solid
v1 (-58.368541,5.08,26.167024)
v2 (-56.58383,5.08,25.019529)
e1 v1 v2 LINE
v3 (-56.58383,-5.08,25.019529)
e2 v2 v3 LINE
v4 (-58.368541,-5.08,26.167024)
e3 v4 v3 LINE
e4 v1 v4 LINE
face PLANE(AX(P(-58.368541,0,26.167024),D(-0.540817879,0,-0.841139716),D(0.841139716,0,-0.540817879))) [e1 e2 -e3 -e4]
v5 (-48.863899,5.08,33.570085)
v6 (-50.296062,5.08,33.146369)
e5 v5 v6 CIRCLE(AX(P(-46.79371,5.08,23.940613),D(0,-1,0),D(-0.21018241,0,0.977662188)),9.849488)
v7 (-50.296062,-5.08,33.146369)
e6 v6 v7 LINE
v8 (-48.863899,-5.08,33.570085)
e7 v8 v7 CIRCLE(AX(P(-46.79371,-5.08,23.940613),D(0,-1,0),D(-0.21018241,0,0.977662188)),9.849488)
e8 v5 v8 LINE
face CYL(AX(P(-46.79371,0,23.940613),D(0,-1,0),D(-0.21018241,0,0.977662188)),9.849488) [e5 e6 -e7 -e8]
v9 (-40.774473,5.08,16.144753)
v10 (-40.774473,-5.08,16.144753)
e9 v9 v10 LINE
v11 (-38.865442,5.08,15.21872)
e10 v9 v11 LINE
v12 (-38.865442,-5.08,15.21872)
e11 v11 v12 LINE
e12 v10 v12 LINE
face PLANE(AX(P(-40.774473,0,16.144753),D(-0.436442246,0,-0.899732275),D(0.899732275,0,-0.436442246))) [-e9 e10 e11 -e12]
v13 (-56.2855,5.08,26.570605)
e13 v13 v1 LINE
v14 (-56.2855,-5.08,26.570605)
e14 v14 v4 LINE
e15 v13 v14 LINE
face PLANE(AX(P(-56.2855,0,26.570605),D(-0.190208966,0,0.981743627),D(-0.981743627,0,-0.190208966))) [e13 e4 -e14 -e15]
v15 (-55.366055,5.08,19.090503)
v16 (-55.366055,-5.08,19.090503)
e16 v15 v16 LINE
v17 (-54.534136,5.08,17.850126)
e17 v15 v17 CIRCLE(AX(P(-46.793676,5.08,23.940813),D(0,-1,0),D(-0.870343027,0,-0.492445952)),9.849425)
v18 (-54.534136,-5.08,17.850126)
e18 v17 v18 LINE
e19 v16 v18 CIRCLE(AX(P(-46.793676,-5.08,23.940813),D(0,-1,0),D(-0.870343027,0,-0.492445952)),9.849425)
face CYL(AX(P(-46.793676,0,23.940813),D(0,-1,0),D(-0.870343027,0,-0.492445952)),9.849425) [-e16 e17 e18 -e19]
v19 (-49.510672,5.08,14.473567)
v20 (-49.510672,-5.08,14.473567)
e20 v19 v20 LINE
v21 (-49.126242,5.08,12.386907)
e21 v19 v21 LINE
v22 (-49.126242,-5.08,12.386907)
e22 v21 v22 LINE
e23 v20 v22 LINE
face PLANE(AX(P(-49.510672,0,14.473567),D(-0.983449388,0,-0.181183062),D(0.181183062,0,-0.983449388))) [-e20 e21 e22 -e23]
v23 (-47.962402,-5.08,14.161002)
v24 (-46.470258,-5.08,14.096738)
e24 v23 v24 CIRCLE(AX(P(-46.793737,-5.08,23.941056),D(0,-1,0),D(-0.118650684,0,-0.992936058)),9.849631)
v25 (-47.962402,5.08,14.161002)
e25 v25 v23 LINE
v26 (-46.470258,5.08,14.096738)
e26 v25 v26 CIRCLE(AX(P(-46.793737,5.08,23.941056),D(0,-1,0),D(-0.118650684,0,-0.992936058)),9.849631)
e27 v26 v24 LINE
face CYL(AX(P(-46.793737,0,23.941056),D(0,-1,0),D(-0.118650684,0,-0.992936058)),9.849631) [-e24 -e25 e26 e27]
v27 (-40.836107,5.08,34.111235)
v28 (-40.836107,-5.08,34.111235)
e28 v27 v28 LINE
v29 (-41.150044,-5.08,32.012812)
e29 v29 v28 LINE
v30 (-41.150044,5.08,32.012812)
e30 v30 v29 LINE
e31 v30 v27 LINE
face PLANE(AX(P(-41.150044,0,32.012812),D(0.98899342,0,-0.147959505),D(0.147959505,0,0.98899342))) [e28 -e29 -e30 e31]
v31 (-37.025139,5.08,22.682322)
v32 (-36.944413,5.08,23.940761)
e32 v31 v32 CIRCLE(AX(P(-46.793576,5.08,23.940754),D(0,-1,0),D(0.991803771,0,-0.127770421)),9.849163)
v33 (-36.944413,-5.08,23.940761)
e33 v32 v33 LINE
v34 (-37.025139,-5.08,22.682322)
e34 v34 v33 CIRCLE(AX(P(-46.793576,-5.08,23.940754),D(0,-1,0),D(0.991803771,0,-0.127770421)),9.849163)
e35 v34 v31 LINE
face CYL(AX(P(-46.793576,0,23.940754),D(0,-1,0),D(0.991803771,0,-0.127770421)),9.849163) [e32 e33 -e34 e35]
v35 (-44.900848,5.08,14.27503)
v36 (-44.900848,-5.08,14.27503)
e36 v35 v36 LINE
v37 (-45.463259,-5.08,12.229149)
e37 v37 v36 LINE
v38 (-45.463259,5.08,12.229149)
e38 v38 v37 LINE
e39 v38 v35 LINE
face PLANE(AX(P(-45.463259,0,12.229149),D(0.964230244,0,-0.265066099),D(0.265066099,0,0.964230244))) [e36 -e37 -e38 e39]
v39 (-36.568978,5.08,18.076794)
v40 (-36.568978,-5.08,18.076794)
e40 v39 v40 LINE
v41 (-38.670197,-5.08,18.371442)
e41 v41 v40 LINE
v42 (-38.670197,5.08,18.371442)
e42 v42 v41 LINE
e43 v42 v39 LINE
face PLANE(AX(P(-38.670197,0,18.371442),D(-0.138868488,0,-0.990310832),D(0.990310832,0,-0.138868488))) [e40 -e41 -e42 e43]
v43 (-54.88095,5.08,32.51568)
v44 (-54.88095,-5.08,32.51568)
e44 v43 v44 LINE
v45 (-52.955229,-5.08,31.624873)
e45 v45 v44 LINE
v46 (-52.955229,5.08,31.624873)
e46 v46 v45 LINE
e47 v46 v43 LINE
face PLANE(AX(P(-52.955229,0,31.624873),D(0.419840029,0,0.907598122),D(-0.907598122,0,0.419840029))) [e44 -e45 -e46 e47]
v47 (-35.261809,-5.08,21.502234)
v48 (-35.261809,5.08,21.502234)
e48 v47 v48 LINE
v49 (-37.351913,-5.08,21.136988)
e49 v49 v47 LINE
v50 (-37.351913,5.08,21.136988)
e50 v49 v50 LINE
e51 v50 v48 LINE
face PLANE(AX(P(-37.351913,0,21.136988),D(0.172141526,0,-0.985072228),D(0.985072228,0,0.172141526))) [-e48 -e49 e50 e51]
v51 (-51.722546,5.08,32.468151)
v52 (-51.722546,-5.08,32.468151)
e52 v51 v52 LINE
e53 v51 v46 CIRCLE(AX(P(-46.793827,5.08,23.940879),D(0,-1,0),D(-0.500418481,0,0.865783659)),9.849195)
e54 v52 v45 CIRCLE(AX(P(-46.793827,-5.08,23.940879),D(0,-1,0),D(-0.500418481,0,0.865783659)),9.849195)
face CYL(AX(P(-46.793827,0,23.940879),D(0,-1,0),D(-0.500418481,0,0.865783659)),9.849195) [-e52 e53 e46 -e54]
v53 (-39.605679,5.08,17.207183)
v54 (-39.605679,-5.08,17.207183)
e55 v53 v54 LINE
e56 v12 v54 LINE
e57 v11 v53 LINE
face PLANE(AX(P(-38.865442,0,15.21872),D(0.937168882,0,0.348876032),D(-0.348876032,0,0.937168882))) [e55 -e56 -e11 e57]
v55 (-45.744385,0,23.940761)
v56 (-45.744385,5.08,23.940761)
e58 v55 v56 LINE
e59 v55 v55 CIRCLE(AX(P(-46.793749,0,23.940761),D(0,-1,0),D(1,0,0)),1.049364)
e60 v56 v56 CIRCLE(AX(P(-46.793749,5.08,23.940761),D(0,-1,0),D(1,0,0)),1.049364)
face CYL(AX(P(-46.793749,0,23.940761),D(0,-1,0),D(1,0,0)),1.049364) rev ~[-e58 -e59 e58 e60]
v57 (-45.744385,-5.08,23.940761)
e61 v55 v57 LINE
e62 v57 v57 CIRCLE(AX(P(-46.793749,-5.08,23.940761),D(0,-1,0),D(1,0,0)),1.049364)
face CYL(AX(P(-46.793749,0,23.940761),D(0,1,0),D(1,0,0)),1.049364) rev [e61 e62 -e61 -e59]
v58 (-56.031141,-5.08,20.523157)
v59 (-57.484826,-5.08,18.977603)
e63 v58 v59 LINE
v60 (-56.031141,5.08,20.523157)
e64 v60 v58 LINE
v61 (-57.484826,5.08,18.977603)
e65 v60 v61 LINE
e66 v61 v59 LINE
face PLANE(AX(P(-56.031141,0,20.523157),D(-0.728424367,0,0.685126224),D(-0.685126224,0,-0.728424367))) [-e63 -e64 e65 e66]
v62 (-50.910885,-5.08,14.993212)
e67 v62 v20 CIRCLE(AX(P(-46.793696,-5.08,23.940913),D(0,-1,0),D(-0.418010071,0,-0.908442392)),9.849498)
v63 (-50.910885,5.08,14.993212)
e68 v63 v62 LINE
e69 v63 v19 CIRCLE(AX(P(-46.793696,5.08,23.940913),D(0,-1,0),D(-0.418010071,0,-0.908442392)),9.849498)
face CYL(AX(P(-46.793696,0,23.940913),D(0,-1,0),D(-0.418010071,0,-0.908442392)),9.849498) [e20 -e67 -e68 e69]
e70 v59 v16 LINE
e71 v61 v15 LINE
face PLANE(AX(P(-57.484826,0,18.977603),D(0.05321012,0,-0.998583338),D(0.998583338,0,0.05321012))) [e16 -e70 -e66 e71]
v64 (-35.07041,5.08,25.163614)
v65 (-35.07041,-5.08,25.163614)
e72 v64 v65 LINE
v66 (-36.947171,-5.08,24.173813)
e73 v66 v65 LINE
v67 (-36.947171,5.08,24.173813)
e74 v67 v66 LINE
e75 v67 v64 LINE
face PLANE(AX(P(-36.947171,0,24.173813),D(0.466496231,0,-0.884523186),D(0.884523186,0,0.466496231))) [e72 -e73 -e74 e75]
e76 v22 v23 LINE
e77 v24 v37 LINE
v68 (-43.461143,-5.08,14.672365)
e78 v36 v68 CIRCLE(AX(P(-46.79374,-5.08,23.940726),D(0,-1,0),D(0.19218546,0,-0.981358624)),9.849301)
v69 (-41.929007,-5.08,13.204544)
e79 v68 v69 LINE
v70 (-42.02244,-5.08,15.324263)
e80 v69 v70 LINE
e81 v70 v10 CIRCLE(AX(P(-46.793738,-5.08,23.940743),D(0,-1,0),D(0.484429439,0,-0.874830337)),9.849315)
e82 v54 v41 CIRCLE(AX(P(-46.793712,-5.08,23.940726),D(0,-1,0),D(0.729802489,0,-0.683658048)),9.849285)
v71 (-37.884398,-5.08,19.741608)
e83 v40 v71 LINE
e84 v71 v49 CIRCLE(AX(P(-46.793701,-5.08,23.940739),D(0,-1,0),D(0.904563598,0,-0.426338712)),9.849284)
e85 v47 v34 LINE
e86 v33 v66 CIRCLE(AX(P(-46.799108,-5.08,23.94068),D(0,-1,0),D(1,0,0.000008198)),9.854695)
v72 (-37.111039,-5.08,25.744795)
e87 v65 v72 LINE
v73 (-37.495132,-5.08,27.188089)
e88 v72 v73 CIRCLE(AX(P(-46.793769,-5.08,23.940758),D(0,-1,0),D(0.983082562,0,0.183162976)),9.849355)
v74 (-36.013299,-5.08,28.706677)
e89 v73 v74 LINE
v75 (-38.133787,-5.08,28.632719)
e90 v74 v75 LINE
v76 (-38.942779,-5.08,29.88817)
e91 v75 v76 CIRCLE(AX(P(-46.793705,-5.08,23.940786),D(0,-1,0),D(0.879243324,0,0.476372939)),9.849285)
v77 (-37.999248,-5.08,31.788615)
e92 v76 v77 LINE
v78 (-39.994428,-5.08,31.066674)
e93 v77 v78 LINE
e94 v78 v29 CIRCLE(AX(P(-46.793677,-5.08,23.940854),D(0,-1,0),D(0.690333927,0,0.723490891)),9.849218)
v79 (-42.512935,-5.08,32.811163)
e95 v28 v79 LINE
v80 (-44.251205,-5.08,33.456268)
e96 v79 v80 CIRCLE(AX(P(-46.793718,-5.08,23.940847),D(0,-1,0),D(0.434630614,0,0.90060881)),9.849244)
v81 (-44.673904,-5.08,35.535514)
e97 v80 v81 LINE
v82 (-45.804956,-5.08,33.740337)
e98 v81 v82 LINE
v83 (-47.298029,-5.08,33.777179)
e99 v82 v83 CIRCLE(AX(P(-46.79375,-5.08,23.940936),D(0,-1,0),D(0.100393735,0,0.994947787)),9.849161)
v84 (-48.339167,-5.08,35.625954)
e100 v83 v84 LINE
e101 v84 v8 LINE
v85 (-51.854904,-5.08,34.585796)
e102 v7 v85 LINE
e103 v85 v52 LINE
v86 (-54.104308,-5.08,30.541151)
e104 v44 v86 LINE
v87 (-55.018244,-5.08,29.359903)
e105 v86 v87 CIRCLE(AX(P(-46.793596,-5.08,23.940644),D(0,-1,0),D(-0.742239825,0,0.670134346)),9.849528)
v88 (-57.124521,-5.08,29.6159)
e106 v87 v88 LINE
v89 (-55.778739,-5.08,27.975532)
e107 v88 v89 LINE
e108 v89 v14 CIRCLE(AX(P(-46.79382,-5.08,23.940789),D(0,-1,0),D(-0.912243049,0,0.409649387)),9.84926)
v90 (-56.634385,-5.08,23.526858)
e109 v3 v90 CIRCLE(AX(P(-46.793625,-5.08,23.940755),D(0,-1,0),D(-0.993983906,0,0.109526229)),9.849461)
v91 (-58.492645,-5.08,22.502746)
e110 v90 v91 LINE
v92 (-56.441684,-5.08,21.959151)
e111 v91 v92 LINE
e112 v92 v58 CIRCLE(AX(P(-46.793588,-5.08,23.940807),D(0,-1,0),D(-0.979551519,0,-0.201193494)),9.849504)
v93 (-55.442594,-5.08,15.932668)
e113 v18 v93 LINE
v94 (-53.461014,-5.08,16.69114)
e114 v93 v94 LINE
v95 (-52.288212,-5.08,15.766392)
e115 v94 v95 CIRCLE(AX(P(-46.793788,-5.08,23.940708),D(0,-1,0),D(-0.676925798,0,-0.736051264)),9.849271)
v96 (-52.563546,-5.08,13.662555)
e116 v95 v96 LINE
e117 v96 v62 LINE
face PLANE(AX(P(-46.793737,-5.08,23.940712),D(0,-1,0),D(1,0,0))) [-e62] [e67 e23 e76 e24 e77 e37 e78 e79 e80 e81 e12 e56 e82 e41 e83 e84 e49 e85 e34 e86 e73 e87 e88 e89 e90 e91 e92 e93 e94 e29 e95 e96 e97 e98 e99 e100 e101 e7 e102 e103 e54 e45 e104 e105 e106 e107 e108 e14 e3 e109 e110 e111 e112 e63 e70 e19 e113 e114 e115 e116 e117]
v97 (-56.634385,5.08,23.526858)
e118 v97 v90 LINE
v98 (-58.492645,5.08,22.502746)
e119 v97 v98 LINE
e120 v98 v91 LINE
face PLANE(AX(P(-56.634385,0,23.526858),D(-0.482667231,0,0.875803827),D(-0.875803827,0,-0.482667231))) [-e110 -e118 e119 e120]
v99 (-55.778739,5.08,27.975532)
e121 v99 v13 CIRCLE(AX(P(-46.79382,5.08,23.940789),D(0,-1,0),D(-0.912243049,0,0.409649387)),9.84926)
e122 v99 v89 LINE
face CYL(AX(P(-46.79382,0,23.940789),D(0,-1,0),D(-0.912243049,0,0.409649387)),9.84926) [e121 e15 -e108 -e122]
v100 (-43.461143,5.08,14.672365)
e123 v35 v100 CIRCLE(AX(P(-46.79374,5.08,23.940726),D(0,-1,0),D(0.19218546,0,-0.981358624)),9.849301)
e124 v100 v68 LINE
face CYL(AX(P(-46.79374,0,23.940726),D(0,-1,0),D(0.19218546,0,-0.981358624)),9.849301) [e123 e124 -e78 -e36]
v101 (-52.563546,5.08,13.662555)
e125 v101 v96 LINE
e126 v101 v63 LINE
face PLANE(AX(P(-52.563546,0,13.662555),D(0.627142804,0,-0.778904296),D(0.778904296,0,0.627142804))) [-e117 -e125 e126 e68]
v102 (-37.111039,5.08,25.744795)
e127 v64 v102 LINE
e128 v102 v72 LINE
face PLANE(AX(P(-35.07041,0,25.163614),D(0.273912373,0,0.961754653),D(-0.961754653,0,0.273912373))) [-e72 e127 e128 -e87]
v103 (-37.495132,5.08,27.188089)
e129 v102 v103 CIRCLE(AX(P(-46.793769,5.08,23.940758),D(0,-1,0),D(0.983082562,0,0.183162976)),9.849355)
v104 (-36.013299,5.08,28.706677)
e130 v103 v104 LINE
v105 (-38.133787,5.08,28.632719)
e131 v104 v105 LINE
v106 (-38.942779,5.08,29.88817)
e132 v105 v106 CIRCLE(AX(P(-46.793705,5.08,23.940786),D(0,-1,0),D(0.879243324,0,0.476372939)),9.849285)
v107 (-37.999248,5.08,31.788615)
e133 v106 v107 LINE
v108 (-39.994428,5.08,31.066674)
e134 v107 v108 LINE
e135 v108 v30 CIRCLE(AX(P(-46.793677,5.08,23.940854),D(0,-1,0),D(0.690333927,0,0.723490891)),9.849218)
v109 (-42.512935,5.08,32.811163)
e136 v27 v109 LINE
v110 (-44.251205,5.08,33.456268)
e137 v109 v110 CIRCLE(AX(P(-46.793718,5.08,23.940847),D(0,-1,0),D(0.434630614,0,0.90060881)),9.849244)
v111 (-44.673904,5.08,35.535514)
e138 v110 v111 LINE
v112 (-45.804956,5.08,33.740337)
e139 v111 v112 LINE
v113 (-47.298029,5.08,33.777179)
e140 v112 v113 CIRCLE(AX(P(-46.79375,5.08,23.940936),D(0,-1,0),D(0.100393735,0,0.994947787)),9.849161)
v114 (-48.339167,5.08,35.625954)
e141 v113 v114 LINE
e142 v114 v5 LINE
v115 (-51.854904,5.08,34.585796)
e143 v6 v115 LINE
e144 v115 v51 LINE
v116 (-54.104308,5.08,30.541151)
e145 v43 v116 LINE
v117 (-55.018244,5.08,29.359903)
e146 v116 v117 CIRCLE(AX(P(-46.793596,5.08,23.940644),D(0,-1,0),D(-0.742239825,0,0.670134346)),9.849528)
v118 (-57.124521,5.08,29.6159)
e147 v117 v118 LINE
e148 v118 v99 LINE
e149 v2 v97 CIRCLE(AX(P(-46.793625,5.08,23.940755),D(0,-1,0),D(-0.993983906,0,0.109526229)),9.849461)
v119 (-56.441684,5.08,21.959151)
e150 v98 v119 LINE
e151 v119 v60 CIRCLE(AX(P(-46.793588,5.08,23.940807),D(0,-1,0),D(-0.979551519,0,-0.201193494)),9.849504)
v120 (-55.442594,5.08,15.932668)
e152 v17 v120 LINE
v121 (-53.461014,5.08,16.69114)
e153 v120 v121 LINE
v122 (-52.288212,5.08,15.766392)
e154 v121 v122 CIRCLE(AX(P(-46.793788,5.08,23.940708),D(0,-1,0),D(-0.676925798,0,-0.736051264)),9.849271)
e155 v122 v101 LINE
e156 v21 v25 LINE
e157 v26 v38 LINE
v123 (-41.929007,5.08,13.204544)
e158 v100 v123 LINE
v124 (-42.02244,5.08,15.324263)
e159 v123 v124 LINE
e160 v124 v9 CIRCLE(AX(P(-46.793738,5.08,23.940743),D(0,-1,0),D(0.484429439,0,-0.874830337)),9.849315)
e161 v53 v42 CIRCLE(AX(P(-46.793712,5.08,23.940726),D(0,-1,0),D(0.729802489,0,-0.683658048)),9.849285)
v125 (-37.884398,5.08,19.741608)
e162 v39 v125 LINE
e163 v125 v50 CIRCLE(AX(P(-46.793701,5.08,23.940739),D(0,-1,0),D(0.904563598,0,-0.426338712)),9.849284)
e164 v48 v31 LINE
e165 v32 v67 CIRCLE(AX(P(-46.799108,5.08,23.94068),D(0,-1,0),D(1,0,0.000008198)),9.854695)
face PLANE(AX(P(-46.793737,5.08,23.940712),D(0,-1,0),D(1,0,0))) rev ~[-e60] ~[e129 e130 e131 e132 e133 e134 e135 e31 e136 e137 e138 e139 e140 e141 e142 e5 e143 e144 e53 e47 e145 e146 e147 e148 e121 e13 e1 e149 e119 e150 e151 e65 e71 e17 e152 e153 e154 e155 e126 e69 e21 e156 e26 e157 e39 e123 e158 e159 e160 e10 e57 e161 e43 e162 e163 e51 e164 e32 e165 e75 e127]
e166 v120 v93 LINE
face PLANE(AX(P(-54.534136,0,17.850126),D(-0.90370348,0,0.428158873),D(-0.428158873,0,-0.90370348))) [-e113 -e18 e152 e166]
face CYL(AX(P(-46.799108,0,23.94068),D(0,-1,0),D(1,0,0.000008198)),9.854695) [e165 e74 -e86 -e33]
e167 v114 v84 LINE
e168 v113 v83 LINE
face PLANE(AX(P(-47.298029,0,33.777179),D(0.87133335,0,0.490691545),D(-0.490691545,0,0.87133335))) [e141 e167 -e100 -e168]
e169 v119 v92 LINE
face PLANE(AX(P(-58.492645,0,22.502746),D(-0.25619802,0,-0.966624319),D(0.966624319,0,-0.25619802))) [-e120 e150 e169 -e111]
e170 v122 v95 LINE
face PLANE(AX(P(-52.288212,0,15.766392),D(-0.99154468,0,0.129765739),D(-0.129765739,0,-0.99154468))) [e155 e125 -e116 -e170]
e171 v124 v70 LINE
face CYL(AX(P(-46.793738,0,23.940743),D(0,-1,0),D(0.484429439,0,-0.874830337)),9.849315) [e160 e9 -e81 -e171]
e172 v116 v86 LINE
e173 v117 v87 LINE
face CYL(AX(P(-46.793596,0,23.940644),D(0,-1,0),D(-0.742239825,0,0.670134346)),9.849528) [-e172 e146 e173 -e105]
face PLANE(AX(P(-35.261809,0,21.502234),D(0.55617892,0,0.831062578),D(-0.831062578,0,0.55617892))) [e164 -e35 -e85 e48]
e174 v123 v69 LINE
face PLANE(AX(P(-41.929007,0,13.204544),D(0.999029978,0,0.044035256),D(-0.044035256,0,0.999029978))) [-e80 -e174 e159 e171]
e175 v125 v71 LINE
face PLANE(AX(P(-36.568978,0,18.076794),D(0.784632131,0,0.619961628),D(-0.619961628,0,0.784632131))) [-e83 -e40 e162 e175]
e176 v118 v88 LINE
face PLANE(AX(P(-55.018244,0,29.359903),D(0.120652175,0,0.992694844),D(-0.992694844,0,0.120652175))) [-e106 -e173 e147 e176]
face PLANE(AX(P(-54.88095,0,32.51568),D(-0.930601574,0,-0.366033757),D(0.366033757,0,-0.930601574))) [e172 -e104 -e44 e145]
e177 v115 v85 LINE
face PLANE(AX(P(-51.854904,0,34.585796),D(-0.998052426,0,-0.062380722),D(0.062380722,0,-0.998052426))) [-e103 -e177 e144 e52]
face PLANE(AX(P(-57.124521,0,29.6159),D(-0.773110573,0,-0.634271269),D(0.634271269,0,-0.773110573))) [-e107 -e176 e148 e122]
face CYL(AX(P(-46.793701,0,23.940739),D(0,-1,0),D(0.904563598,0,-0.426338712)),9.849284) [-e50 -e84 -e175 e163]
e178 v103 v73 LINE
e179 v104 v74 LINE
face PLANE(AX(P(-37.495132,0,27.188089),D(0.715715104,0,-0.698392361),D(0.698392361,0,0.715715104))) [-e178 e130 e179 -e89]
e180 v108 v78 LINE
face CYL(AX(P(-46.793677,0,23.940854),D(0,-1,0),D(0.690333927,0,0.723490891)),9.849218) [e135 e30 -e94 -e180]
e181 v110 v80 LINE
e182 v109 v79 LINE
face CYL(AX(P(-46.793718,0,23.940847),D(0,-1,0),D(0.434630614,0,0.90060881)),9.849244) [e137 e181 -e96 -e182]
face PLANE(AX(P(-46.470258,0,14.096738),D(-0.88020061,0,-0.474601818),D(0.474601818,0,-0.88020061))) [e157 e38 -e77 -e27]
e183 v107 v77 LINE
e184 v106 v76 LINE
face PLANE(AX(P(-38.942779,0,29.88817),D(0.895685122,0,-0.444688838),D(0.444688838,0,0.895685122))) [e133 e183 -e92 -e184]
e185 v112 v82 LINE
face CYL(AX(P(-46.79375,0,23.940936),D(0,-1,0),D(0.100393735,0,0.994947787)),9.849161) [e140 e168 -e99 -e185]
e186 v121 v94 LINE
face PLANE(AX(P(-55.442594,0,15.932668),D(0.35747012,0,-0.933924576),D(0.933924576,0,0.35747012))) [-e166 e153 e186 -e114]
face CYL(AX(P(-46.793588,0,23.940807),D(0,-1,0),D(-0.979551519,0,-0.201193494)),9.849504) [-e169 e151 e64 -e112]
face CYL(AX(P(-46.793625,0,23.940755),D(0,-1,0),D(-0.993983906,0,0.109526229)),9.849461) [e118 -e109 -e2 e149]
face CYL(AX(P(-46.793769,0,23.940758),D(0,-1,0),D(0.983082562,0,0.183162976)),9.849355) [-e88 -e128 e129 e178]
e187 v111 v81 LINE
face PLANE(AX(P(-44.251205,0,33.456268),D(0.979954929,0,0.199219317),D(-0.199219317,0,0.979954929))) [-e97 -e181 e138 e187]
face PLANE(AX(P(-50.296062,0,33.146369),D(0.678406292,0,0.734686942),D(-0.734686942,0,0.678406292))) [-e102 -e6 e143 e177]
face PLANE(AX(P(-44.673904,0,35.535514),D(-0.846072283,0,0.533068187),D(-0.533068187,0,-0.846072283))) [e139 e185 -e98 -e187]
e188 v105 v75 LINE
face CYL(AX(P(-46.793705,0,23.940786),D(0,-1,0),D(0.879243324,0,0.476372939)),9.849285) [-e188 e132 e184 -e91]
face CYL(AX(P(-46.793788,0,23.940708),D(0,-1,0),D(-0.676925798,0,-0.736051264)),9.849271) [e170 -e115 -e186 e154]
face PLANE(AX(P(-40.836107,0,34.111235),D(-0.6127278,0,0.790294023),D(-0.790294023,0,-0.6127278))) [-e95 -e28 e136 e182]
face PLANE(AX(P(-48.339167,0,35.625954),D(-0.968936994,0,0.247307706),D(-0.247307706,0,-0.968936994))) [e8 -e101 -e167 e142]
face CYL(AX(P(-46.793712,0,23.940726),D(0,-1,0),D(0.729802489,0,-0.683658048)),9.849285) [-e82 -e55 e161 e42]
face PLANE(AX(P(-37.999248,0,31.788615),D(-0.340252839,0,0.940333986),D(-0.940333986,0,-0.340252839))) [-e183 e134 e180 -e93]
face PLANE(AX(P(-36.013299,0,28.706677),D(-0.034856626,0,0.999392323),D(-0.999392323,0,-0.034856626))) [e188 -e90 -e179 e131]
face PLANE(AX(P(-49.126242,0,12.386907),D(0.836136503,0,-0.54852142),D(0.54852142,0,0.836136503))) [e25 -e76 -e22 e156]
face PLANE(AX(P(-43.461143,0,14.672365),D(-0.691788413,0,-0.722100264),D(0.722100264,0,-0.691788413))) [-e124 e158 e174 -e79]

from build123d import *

# Parameters (mm, degrees)
F0_R          = 1.049364
F1_DEPTH      = 5.08
F1_DEPTH_BACK = 5.08


with BuildPart() as f1:
    # F0 (on Front) → F1 (new body, two sides)
    with BuildSketch(Plane.XZ) as f1_sk:
        with BuildLine():
            ThreePointArc((-37.025139, 22.682322), (-36.964615, 23.310248), (-36.944413, 23.940761))
            ThreePointArc((-36.944413, 23.940761), (-36.945103, 24.057295), (-36.947171, 24.173813))
            ThreePointArc((-36.947171, 24.173813), (-36.997563, 24.962594), (-37.111039, 25.744795))
            ThreePointArc((-37.111039, 25.744795), (-37.275689, 26.473733), (-37.495132, 27.188089))
            ThreePointArc((-37.495132, 27.188089), (-37.785454, 27.923227), (-38.133787, 28.632719))
            ThreePointArc((-38.133787, 28.632719), (-38.514452, 29.275801), (-38.942779, 29.88817))
            ThreePointArc((-38.942779, 29.88817), (-39.444941, 30.498537), (-39.994428, 31.066674))
            ThreePointArc((-39.994428, 31.066674), (-40.554276, 31.561679), (-41.150044, 32.012812))
            ThreePointArc((-41.150044, 32.012812), (-41.81546, 32.439352), (-42.512935, 32.811163))
            ThreePointArc((-42.512935, 32.811163), (-43.366856, 33.17471), (-44.251205, 33.456268))
            ThreePointArc((-44.251205, 33.456268), (-45.022377, 33.629499), (-45.804956, 33.740337))
            ThreePointArc((-45.804956, 33.740337), (-46.550793, 33.7871), (-47.298029, 33.777179))
            ThreePointArc((-47.298029, 33.777179), (-48.085122, 33.705072), (-48.863899, 33.570085))
            ThreePointArc((-48.863899, 33.570085), (-49.588023, 33.385412), (-50.296062, 33.146369))
            ThreePointArc((-50.296062, 33.146369), (-51.022921, 32.835901), (-51.722546, 32.468151))
            ThreePointArc((-51.722546, 32.468151), (-52.354895, 32.069911), (-52.955229, 31.624873))
            ThreePointArc((-52.955229, 31.624873), (-53.551528, 31.106083), (-54.104308, 30.541151))
            ThreePointArc((-54.104308, 30.541151), (-54.583698, 29.967875), (-55.018244, 29.359903))
            ThreePointArc((-55.018244, 29.359903), (-55.426287, 28.682987), (-55.778739, 27.975532))
            ThreePointArc((-55.778739, 27.975532), (-56.058788, 27.282688), (-56.2855, 26.570605))
            ThreePointArc((-56.2855, 26.570605), (-56.465808, 25.801057), (-56.58383, 25.019529))
            ThreePointArc((-56.58383, 25.019529), (-56.637441, 24.274153), (-56.634385, 23.526858))
            ThreePointArc((-56.634385, 23.526858), (-56.569511, 22.739135), (-56.441684, 21.959151))
            ThreePointArc((-56.441684, 21.959151), (-56.26367, 21.233361), (-56.031141, 20.523157))
            ThreePointArc((-56.031141, 20.523157), (-55.727363, 19.793476), (-55.366055, 19.090503))
            ThreePointArc((-55.366055, 19.090503), (-54.97364, 18.454523), (-54.534136, 17.850126))
            ThreePointArc((-54.534136, 17.850126), (-54.020845, 17.249087), (-53.461014, 16.69114))
            ThreePointArc((-53.461014, 16.69114), (-52.892167, 16.206504), (-52.288212, 15.766392))
            ThreePointArc((-52.288212, 15.766392), (-51.615072, 15.352148), (-50.910885, 14.993212))
            ThreePointArc((-50.910885, 14.993212), (-50.220642, 14.706811), (-49.510672, 14.473567))
            ThreePointArc((-49.510672, 14.473567), (-48.742813, 14.286198), (-47.962402, 14.161002))
            ThreePointArc((-47.962402, 14.161002), (-47.21755, 14.100547), (-46.470258, 14.096738))
            ThreePointArc((-46.470258, 14.096738), (-45.681973, 14.154373), (-44.900848, 14.27503))
            ThreePointArc((-44.900848, 14.27503), (-44.173453, 14.446369), (-43.461143, 14.672365))
            ThreePointArc((-43.461143, 14.672365), (-42.728702, 14.969428), (-42.02244, 15.324263))
            ThreePointArc((-42.02244, 15.324263), (-41.382882, 15.710819), (-40.774473, 16.144753))
            ThreePointArc((-40.774473, 16.144753), (-40.168744, 16.652501), (-39.605679, 17.207183))
            ThreePointArc((-39.605679, 17.207183), (-39.115838, 17.771555), (-38.670197, 18.371442))
            ThreePointArc((-38.670197, 18.371442), (-38.249787, 19.040748), (-37.884398, 19.741608))
            ThreePointArc((-37.884398, 19.741608), (-37.591668, 20.429191), (-37.351913, 21.136988))
            ThreePointArc((-37.351913, 21.136988), (-37.157498, 21.903094), (-37.025139, 22.682322))
        make_face()
        with Locations((-46.793749, 23.940761)):
            Circle(F0_R, mode=Mode.SUBTRACT)
        with BuildLine():
            ThreePointArc((-37.111039, 25.744795), (-36.997563, 24.962594), (-36.947171, 24.173813))
            Line((-36.947171, 24.173813), (-35.07041, 25.163614))
            Line((-35.07041, 25.163614), (-37.111039, 25.744795))
        make_face()
        with BuildLine():
            Line((-35.261809, 21.502234), (-37.025139, 22.682322))
            ThreePointArc((-37.025139, 22.682322), (-37.157498, 21.903094), (-37.351913, 21.136988))
            Line((-37.351913, 21.136988), (-35.261809, 21.502234))
        make_face()
        with BuildLine():
            ThreePointArc((-38.133787, 28.632719), (-37.785454, 27.923227), (-37.495132, 27.188089))
            Line((-37.495132, 27.188089), (-36.013299, 28.706677))
            Line((-36.013299, 28.706677), (-38.133787, 28.632719))
        make_face()
        with BuildLine():
            Line((-36.568978, 18.076794), (-37.884398, 19.741608))
            ThreePointArc((-37.884398, 19.741608), (-38.249787, 19.040748), (-38.670197, 18.371442))
            Line((-38.670197, 18.371442), (-36.568978, 18.076794))
        make_face()
        with BuildLine():
            ThreePointArc((-39.994428, 31.066674), (-39.444941, 30.498537), (-38.942779, 29.88817))
            Line((-38.942779, 29.88817), (-37.999248, 31.788615))
            Line((-37.999248, 31.788615), (-39.994428, 31.066674))
        make_face()
        with BuildLine():
            Line((-38.865442, 15.21872), (-39.605679, 17.207183))
            ThreePointArc((-39.605679, 17.207183), (-40.168744, 16.652501), (-40.774473, 16.144753))
            Line((-40.774473, 16.144753), (-38.865442, 15.21872))
        make_face()
        with BuildLine():
            ThreePointArc((-42.512935, 32.811163), (-41.81546, 32.439352), (-41.150044, 32.012812))
            Line((-41.150044, 32.012812), (-40.836107, 34.111235))
            Line((-40.836107, 34.111235), (-42.512935, 32.811163))
        make_face()
        with BuildLine():
            Line((-41.929007, 13.204544), (-42.02244, 15.324263))
            ThreePointArc((-42.02244, 15.324263), (-42.728702, 14.969428), (-43.461143, 14.672365))
            Line((-43.461143, 14.672365), (-41.929007, 13.204544))
        make_face()
        with BuildLine():
            ThreePointArc((-45.804956, 33.740337), (-45.022377, 33.629499), (-44.251205, 33.456268))
            Line((-44.251205, 33.456268), (-44.673904, 35.535514))
            Line((-44.673904, 35.535514), (-45.804956, 33.740337))
        make_face()
        with BuildLine():
            Line((-45.463259, 12.229149), (-44.900848, 14.27503))
            ThreePointArc((-44.900848, 14.27503), (-45.681973, 14.154373), (-46.470258, 14.096738))
            Line((-46.470258, 14.096738), (-45.463259, 12.229149))
        make_face()
        with BuildLine():
            ThreePointArc((-48.863899, 33.570085), (-48.085122, 33.705072), (-47.298029, 33.777179))
            Line((-47.298029, 33.777179), (-48.339167, 35.625954))
            Line((-48.339167, 35.625954), (-48.863899, 33.570085))
        make_face()
        with BuildLine():
            Line((-49.126242, 12.386907), (-47.962402, 14.161002))
            ThreePointArc((-47.962402, 14.161002), (-48.742813, 14.286198), (-49.510672, 14.473567))
            Line((-49.510672, 14.473567), (-49.126242, 12.386907))
        make_face()
        with BuildLine():
            ThreePointArc((-51.722546, 32.468151), (-51.022921, 32.835901), (-50.296062, 33.146369))
            Line((-50.296062, 33.146369), (-51.854904, 34.585796))
            Line((-51.854904, 34.585796), (-51.722546, 32.468151))
        make_face()
        with BuildLine():
            Line((-52.563546, 13.662555), (-50.910885, 14.993212))
            ThreePointArc((-50.910885, 14.993212), (-51.615072, 15.352148), (-52.288212, 15.766392))
            Line((-52.288212, 15.766392), (-52.563546, 13.662555))
        make_face()
        with BuildLine():
            ThreePointArc((-54.104308, 30.541151), (-53.551528, 31.106083), (-52.955229, 31.624873))
            Line((-52.955229, 31.624873), (-54.88095, 32.51568))
            Line((-54.88095, 32.51568), (-54.104308, 30.541151))
        make_face()
        with BuildLine():
            Line((-55.442594, 15.932668), (-53.461014, 16.69114))
            ThreePointArc((-53.461014, 16.69114), (-54.020845, 17.249087), (-54.534136, 17.850126))
            Line((-54.534136, 17.850126), (-55.442594, 15.932668))
        make_face()
        with BuildLine():
            ThreePointArc((-55.778739, 27.975532), (-55.426287, 28.682987), (-55.018244, 29.359903))
            Line((-55.018244, 29.359903), (-57.124521, 29.6159))
            Line((-57.124521, 29.6159), (-55.778739, 27.975532))
        make_face()
        with BuildLine():
            Line((-57.484826, 18.977603), (-55.366055, 19.090503))
            ThreePointArc((-55.366055, 19.090503), (-55.727363, 19.793476), (-56.031141, 20.523157))
            Line((-56.031141, 20.523157), (-57.484826, 18.977603))
        make_face()
        with BuildLine():
            ThreePointArc((-56.58383, 25.019529), (-56.465808, 25.801057), (-56.2855, 26.570605))
            Line((-56.2855, 26.570605), (-58.368541, 26.167024))
            Line((-58.368541, 26.167024), (-56.58383, 25.019529))
        make_face()
        with BuildLine():
            Line((-58.492645, 22.502746), (-56.441684, 21.959151))
            ThreePointArc((-56.441684, 21.959151), (-56.569511, 22.739135), (-56.634385, 23.526858))
            Line((-56.634385, 23.526858), (-58.492645, 22.502746))
        make_face()
    extrude(amount=F1_DEPTH)
    extrude(f1_sk.sketch, amount=-F1_DEPTH_BACK)


solid = f1.part
